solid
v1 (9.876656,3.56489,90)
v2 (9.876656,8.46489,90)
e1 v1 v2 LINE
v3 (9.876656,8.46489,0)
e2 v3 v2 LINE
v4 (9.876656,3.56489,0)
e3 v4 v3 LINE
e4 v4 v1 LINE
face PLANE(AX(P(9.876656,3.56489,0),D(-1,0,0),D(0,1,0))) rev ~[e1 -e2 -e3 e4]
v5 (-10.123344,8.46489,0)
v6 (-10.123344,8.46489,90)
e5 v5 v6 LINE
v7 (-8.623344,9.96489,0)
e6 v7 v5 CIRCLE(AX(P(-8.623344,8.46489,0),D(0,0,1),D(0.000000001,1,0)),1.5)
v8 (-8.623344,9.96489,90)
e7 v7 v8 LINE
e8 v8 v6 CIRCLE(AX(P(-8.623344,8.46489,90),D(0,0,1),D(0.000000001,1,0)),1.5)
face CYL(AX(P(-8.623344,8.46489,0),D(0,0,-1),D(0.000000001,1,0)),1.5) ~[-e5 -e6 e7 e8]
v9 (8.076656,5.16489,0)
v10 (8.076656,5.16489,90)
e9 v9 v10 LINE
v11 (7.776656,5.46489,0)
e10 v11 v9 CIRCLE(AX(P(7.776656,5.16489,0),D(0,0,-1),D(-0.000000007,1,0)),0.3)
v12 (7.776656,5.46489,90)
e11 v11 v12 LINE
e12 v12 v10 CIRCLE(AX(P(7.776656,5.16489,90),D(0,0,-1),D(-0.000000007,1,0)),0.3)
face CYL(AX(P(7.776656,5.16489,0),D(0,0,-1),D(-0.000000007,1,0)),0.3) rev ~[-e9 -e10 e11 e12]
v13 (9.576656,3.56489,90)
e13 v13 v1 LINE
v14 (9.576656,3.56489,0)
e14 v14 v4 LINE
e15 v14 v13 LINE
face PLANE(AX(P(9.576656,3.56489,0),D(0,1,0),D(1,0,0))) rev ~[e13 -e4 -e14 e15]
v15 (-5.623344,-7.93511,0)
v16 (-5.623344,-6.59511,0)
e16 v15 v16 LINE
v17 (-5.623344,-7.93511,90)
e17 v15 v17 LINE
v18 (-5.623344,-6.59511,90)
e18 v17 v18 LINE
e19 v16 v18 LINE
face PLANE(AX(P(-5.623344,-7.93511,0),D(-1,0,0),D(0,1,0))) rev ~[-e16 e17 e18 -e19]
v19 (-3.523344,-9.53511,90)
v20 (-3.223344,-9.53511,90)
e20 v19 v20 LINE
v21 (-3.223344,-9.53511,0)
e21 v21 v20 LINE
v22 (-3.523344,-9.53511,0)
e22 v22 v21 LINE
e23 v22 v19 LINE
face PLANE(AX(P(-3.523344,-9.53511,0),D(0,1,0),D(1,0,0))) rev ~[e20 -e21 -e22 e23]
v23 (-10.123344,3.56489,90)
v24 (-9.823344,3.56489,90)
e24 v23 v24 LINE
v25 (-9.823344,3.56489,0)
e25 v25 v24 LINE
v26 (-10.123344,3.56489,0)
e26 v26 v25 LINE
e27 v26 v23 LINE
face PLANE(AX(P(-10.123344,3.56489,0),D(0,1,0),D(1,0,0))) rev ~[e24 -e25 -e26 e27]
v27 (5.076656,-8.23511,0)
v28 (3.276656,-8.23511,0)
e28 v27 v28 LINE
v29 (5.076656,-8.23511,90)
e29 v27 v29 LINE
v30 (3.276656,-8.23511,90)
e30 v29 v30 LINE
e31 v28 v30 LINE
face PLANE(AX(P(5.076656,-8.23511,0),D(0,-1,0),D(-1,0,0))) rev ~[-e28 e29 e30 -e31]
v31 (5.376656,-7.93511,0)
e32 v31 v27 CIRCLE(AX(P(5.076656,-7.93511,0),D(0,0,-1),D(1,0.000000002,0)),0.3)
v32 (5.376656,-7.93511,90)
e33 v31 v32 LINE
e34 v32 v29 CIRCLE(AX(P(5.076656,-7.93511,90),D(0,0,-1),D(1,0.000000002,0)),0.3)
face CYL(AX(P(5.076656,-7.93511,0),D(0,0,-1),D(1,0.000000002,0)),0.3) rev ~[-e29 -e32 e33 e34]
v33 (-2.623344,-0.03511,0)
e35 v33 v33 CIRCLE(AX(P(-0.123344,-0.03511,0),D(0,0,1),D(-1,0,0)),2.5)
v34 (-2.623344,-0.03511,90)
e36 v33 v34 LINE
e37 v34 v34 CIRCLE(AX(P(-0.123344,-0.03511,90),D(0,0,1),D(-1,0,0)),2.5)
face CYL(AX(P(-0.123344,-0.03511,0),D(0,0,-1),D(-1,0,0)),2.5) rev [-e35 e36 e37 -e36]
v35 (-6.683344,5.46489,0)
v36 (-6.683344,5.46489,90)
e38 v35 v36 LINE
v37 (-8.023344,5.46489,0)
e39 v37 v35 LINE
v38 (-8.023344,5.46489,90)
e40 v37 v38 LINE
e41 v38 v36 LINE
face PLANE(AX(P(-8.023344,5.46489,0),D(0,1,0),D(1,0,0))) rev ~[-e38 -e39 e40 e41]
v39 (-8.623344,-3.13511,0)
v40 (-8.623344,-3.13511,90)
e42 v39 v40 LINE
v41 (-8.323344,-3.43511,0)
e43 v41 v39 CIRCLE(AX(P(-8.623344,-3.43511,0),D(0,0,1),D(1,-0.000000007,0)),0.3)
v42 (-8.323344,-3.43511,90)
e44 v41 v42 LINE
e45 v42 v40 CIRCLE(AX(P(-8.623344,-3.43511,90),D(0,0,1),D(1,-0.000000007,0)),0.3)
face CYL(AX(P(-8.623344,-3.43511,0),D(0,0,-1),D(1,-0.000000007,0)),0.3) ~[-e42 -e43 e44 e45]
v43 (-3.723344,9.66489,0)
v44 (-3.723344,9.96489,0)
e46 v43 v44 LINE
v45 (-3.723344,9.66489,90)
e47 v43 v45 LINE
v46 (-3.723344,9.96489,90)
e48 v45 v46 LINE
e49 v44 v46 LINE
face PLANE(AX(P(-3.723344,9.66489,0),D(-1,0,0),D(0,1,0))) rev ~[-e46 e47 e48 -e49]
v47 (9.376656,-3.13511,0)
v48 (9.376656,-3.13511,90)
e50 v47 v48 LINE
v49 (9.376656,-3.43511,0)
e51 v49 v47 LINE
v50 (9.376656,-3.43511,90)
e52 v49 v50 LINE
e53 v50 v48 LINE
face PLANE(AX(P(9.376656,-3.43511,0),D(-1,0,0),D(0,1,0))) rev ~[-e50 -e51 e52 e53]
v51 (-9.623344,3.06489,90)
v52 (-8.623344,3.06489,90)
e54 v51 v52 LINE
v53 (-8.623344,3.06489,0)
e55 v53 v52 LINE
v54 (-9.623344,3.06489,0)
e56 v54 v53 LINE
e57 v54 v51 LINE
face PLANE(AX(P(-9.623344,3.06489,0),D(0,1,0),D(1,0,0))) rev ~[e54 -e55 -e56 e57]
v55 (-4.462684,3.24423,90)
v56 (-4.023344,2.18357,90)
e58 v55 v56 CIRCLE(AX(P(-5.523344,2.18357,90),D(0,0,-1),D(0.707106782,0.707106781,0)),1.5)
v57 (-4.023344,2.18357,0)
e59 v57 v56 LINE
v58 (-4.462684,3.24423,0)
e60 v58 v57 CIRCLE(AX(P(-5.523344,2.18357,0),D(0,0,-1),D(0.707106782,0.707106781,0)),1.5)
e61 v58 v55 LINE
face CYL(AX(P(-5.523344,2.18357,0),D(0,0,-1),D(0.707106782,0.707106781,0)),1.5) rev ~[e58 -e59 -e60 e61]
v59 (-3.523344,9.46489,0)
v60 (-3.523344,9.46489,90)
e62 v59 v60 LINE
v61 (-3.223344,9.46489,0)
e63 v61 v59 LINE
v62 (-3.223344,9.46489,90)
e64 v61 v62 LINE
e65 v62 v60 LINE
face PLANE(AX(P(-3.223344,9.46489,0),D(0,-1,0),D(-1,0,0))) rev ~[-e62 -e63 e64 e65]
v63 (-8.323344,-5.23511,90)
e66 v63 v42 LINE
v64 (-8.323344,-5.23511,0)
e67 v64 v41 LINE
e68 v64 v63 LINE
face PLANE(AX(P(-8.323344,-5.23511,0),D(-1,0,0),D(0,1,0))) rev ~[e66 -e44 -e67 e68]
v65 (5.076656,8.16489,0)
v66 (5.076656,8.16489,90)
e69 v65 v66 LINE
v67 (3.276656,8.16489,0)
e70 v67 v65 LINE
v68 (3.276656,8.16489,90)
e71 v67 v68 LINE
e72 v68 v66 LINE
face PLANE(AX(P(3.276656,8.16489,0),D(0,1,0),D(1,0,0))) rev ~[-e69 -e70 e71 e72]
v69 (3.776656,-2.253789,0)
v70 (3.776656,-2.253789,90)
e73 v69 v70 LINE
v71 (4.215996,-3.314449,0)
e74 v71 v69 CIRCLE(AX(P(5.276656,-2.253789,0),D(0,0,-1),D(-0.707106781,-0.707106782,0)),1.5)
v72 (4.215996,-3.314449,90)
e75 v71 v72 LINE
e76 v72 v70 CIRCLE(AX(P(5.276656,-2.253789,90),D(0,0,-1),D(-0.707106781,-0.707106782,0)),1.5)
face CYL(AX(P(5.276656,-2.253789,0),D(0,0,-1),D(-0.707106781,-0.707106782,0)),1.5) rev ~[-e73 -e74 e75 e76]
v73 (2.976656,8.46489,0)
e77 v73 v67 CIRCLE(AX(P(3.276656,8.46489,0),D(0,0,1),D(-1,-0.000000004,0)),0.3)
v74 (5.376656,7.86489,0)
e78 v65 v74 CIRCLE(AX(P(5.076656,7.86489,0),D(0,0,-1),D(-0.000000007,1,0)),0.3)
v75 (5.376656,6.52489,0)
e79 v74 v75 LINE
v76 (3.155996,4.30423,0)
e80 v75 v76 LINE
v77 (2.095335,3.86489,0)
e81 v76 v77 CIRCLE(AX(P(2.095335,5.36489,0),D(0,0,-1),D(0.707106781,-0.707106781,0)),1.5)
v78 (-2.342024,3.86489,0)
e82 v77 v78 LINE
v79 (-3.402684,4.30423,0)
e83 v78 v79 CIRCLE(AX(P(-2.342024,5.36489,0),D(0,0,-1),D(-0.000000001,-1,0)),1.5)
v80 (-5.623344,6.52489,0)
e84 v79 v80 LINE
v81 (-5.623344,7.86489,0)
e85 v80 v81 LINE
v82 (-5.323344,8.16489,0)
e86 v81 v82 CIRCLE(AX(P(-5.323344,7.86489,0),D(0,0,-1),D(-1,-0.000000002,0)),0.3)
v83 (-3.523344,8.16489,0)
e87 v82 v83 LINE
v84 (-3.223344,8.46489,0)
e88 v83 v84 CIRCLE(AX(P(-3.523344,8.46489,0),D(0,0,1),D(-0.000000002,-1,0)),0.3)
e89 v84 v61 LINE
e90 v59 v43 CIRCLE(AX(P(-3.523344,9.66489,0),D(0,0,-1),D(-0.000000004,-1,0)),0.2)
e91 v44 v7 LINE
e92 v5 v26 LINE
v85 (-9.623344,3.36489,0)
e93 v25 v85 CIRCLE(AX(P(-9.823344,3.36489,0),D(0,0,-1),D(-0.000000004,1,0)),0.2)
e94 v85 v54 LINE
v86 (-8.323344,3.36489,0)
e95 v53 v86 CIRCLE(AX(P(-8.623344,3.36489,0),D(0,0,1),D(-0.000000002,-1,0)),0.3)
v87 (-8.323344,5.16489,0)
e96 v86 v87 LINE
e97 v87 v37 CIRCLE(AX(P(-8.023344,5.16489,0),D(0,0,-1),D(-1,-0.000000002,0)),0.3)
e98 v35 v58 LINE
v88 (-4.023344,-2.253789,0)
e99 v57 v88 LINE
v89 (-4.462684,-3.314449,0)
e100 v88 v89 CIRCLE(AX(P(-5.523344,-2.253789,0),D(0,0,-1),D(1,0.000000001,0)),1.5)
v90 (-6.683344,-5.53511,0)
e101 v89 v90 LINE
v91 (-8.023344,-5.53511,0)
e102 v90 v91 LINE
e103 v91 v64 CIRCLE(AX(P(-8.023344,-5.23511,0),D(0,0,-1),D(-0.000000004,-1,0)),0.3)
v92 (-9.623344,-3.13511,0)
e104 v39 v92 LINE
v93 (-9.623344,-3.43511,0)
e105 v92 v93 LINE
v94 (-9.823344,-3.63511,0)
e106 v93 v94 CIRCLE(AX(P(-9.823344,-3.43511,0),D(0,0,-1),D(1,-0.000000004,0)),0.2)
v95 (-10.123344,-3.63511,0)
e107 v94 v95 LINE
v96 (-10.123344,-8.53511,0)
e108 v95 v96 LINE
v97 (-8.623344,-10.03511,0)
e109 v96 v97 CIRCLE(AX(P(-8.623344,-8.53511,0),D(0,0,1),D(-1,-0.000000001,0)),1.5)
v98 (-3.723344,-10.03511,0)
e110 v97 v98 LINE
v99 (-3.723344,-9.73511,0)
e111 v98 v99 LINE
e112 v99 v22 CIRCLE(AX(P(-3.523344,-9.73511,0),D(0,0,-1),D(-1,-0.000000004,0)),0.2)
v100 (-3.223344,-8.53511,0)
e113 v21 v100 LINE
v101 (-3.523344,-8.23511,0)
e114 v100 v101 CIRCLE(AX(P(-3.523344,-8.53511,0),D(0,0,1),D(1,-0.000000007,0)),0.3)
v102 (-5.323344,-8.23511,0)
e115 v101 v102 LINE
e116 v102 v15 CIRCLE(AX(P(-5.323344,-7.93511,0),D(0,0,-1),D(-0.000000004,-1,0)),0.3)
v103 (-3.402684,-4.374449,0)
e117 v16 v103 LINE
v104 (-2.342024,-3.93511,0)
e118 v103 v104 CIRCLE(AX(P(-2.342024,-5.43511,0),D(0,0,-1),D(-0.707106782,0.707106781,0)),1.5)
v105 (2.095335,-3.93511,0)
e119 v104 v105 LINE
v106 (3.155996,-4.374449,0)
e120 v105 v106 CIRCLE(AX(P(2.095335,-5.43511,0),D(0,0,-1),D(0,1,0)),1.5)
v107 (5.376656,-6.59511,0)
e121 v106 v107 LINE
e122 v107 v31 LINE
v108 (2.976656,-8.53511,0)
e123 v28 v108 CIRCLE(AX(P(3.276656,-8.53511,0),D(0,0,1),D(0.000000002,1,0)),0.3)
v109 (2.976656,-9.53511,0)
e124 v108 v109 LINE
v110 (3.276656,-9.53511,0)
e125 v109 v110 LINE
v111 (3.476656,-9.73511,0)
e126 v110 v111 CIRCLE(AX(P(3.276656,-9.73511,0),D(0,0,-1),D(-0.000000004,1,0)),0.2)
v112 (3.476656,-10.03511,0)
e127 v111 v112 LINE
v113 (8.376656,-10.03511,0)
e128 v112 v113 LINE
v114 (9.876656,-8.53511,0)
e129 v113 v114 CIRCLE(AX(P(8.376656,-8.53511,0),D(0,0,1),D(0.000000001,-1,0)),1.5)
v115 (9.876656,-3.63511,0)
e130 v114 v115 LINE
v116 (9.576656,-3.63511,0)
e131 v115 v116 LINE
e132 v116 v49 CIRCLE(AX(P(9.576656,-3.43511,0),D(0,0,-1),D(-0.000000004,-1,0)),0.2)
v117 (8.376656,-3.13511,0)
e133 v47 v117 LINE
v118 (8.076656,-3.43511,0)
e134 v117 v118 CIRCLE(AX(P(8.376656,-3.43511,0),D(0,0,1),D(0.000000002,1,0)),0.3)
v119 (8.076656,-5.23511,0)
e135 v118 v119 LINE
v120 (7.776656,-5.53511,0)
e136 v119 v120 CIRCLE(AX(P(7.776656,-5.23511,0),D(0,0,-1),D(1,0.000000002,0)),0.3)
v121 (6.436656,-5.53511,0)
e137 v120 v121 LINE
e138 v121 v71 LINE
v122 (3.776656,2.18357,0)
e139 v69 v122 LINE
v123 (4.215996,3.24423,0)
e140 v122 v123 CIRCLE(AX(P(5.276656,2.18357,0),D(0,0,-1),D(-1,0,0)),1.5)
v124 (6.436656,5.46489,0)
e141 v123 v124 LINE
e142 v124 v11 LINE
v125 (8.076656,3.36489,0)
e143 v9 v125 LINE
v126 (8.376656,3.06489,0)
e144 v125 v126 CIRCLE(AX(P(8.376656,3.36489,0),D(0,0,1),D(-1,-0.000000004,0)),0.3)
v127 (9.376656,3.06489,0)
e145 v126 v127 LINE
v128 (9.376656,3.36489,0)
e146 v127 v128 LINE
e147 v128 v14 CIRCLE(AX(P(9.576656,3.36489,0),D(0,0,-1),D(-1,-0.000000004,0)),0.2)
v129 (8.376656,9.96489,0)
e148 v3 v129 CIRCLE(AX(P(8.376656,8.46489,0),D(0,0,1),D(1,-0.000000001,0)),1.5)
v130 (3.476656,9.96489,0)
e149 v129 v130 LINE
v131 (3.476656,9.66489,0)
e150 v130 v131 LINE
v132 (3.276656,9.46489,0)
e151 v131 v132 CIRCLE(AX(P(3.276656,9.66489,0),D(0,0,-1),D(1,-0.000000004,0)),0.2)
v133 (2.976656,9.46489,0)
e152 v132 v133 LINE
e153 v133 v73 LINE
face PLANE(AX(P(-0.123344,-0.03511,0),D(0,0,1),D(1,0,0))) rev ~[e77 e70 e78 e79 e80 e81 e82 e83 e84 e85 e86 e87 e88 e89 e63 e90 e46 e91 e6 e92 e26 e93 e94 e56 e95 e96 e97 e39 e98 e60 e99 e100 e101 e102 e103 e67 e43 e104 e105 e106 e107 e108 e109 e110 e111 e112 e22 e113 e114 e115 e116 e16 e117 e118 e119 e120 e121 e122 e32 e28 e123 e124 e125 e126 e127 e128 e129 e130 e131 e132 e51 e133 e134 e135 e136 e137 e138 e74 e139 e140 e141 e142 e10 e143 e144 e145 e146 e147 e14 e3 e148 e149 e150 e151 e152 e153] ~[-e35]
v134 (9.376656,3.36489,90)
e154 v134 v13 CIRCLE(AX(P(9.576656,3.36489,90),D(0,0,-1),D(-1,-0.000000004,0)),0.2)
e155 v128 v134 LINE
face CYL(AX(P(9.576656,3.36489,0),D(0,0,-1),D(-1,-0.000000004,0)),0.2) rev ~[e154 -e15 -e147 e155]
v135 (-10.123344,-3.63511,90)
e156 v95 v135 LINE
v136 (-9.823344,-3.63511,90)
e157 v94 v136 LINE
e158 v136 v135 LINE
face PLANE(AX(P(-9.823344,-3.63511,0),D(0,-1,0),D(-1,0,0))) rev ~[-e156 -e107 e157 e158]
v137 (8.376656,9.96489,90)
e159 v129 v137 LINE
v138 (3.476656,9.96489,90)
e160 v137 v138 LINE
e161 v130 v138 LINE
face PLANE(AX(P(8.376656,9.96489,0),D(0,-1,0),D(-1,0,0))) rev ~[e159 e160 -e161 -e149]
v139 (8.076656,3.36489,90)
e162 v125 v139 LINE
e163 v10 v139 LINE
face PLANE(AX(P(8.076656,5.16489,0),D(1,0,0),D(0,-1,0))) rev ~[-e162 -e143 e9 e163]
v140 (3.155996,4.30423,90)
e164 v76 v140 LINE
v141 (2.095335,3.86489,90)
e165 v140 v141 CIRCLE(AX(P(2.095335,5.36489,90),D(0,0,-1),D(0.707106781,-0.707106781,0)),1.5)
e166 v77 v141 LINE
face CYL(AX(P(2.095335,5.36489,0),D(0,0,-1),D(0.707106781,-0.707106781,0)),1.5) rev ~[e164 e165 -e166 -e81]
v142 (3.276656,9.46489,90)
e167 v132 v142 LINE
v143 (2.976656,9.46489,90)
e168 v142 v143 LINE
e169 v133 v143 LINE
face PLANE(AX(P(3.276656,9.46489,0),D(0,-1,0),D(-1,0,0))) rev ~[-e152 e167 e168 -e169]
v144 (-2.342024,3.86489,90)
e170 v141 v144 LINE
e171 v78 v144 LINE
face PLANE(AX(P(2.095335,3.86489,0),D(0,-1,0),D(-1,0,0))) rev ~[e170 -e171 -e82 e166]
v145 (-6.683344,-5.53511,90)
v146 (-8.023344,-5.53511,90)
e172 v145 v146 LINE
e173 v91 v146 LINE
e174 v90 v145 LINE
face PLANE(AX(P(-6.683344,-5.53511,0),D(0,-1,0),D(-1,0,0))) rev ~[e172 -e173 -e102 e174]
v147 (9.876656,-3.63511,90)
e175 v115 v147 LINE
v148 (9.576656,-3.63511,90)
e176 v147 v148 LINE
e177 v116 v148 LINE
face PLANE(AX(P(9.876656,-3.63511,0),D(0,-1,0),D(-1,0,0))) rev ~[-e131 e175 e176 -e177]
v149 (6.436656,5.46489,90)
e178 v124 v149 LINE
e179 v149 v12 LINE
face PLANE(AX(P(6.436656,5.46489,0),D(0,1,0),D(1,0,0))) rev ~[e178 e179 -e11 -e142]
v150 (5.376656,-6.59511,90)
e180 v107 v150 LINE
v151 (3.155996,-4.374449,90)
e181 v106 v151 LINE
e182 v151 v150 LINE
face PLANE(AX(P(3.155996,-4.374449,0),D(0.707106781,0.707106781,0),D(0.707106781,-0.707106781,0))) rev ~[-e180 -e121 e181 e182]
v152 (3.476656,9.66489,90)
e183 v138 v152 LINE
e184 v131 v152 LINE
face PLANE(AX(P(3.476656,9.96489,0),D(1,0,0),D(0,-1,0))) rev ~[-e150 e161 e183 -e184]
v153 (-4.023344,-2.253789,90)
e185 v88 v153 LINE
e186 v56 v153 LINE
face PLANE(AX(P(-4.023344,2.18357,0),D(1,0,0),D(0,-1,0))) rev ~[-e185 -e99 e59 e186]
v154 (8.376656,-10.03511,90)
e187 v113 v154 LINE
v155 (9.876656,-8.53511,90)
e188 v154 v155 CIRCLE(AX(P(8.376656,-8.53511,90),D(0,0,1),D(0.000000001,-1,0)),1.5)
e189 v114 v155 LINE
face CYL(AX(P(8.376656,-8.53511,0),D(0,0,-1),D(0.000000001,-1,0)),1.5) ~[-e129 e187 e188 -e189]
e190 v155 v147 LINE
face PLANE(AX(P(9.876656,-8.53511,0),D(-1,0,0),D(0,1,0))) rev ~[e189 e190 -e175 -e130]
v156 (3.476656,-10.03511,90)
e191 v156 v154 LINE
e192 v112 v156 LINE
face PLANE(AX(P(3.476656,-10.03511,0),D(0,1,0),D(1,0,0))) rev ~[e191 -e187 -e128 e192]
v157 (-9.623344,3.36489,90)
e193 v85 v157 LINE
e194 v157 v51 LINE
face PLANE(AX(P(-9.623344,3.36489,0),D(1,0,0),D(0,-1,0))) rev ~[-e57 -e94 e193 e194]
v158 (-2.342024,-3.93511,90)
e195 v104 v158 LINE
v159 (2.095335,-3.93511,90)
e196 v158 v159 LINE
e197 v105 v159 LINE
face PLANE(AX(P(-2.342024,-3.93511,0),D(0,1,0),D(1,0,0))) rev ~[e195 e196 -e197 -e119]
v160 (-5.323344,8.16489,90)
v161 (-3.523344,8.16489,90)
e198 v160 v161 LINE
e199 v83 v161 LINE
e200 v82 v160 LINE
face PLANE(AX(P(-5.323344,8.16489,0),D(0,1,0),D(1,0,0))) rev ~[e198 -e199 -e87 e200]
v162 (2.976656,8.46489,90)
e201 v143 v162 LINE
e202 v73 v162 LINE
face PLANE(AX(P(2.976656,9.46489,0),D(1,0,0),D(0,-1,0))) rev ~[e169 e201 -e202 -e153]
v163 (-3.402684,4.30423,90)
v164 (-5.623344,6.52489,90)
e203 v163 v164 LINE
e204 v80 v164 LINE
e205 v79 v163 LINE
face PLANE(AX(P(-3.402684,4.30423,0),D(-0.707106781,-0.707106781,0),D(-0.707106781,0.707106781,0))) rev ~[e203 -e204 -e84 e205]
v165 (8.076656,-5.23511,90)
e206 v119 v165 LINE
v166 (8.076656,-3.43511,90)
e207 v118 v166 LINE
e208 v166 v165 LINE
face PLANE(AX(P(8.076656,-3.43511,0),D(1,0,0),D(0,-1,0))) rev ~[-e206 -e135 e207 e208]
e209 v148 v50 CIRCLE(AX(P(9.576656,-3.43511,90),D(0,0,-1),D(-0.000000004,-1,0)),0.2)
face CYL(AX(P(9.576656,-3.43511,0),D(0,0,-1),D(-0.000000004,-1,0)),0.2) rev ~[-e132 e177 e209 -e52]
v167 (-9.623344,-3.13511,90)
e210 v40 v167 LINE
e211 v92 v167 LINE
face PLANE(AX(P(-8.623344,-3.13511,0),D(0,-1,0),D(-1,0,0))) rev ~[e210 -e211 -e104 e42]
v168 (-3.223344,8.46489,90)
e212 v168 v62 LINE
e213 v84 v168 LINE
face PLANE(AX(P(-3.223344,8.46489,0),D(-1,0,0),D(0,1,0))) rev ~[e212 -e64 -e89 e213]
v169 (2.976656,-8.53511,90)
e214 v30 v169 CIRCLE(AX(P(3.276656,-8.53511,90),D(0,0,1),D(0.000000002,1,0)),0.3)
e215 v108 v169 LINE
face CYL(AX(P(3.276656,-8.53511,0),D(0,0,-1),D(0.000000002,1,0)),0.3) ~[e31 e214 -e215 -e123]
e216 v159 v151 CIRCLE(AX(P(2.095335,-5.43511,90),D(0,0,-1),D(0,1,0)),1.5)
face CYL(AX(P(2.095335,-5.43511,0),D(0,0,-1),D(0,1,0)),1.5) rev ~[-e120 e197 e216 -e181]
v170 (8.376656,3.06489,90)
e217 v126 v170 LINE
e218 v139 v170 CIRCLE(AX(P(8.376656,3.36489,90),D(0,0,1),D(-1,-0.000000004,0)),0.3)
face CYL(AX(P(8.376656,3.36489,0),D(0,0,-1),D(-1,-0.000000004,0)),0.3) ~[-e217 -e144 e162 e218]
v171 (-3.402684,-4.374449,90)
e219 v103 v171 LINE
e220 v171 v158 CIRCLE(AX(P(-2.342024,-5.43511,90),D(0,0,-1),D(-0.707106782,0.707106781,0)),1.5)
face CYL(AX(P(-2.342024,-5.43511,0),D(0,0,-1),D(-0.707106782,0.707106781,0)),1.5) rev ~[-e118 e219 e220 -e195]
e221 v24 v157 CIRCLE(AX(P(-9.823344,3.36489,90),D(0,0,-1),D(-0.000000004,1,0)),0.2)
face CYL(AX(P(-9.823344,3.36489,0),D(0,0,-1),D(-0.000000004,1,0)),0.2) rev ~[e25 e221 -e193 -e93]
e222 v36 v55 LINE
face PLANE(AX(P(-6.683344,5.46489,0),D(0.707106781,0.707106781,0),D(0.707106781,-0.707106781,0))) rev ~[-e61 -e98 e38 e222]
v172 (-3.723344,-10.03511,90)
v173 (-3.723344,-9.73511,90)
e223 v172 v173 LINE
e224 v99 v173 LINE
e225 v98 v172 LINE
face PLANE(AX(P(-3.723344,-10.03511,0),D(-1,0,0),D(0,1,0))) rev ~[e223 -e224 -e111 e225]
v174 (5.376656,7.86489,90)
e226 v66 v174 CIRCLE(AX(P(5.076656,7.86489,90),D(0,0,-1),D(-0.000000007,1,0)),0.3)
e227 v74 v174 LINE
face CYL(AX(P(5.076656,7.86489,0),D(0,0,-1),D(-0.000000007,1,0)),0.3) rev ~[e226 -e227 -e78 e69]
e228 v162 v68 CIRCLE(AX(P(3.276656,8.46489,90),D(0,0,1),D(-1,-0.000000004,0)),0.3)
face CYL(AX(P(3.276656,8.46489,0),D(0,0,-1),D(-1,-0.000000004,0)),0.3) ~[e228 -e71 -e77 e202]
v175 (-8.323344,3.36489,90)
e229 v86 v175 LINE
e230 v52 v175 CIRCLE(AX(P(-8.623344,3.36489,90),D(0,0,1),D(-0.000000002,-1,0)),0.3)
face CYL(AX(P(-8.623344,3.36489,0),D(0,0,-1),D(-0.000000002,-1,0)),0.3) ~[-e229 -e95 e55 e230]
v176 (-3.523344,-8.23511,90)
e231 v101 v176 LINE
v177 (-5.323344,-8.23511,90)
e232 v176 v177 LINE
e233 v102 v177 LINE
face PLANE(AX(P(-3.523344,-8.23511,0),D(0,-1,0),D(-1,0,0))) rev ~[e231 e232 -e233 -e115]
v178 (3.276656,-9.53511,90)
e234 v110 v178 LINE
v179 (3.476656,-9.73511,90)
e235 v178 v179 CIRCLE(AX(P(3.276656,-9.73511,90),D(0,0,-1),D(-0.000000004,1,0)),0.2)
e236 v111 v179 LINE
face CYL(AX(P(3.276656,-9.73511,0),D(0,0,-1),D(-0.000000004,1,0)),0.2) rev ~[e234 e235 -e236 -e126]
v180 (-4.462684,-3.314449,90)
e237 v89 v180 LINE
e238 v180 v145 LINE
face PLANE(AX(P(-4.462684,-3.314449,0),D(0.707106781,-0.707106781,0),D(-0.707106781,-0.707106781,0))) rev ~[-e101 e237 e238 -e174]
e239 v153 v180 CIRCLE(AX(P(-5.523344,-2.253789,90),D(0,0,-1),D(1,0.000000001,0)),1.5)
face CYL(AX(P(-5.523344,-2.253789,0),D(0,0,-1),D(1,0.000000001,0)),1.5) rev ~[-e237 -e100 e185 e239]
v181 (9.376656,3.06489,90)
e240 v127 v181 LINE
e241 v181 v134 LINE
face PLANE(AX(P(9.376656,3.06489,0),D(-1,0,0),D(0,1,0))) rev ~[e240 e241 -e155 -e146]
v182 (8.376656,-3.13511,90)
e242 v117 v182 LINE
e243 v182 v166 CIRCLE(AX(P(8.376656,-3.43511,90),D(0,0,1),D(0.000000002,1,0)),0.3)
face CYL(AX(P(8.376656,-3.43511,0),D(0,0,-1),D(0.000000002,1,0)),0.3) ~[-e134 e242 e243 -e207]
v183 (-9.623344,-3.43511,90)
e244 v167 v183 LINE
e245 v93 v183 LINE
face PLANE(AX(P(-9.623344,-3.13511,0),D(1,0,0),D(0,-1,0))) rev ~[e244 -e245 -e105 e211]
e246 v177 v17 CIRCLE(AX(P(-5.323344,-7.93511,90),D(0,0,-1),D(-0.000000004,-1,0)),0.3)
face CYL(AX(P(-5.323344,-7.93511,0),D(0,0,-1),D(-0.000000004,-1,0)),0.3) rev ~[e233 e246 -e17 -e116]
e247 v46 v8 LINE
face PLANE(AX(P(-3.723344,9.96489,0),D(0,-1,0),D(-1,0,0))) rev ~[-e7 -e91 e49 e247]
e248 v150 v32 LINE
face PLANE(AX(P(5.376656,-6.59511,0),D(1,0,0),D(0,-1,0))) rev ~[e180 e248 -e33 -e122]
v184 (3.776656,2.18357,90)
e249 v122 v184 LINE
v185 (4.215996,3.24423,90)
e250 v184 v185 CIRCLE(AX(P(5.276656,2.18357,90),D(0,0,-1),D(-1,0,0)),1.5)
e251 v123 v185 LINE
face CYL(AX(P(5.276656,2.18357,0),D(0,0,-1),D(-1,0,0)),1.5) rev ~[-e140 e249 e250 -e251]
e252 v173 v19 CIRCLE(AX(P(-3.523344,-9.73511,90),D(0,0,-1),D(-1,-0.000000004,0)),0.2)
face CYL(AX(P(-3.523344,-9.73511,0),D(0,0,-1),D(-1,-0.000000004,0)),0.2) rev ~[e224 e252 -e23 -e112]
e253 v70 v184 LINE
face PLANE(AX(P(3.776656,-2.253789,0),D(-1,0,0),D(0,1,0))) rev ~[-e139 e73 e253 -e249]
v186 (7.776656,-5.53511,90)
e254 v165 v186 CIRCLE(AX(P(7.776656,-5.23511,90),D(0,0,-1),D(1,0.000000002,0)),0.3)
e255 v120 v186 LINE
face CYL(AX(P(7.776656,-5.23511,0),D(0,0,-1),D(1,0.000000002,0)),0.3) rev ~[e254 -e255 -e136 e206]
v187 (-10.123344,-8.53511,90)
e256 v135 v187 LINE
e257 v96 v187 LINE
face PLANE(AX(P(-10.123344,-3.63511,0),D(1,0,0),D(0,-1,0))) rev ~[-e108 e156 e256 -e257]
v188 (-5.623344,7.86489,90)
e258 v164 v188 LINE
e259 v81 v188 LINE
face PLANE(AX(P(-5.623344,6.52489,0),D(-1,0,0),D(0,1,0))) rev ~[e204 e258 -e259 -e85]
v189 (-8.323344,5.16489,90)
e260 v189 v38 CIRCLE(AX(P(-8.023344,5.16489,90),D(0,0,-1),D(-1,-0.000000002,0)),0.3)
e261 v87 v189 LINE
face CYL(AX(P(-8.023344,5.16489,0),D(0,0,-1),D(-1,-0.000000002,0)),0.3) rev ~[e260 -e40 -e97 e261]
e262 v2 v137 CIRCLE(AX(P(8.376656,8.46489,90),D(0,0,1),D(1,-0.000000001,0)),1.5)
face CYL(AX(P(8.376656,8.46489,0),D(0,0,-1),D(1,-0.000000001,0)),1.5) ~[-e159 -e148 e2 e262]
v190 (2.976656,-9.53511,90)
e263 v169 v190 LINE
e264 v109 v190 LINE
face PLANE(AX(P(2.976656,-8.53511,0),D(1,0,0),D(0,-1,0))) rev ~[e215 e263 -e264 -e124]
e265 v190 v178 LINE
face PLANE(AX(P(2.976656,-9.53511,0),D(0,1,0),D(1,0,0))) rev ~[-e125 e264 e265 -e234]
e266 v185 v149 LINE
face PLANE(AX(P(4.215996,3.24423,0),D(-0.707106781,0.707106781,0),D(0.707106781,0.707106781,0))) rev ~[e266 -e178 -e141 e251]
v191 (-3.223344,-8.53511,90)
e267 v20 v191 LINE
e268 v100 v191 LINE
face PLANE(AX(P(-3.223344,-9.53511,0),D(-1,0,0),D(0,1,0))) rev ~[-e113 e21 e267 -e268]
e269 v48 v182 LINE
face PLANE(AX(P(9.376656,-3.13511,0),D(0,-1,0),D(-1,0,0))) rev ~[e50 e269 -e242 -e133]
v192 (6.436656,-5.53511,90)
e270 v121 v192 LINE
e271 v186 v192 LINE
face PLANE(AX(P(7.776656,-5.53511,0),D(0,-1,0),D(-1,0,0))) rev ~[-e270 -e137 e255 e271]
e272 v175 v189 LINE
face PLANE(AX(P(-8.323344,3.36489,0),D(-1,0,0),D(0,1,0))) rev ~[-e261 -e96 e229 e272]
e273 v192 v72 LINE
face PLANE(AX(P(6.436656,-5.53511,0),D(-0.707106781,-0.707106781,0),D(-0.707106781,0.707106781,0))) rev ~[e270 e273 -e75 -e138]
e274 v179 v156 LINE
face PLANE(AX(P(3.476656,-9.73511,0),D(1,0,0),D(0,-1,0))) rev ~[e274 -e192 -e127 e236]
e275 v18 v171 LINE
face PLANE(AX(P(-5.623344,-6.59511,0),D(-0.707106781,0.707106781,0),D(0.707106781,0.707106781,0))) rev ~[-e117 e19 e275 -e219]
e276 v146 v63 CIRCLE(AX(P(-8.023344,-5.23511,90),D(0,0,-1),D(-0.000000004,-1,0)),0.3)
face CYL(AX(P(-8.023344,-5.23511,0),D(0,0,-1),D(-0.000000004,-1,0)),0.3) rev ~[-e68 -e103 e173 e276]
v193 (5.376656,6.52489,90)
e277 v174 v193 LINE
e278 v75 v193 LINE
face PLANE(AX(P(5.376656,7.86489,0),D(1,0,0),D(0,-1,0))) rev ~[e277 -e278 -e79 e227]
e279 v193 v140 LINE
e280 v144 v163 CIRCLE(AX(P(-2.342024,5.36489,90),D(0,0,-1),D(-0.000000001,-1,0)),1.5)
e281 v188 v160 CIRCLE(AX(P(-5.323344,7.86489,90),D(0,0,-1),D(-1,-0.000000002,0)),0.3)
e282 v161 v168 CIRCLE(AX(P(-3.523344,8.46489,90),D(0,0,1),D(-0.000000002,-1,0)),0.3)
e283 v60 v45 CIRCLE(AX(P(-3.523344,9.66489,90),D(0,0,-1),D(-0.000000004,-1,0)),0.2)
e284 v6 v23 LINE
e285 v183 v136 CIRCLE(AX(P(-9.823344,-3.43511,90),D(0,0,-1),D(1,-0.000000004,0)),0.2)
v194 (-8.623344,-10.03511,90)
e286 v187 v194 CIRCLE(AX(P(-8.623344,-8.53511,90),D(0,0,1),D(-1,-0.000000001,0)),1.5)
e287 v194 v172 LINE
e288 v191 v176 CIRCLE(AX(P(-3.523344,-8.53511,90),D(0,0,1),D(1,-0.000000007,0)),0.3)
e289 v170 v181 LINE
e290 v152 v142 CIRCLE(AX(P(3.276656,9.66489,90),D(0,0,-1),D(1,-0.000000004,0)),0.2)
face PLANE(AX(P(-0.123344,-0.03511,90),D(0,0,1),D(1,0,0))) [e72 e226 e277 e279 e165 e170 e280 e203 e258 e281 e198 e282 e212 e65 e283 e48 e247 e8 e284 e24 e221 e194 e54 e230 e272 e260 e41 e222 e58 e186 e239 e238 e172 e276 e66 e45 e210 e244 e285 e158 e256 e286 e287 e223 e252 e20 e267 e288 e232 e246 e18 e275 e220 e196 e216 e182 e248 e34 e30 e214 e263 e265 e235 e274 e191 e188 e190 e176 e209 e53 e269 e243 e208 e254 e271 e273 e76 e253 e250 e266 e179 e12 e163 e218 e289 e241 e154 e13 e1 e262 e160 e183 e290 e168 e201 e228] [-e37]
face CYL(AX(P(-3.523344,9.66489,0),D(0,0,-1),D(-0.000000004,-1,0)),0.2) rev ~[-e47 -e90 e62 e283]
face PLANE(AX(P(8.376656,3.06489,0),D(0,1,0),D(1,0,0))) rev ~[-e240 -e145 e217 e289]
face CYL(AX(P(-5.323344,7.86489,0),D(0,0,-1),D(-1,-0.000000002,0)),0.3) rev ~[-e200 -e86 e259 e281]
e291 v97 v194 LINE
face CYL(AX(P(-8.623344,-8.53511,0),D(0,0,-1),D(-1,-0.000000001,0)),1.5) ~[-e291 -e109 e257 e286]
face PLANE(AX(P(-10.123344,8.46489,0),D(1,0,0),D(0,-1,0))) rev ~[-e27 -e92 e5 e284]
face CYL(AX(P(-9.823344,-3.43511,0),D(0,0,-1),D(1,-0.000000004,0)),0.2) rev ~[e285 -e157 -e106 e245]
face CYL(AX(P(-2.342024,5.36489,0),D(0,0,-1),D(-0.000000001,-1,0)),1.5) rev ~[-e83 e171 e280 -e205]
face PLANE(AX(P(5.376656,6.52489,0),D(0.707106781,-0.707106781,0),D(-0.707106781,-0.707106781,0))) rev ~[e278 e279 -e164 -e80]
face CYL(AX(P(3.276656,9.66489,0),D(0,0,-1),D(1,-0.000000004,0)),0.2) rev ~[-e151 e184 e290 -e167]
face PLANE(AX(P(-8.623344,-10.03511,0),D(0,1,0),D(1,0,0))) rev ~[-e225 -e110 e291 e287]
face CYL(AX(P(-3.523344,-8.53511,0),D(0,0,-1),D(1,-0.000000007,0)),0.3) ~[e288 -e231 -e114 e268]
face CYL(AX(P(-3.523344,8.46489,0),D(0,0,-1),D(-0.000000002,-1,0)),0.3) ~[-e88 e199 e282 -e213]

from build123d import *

# Parameters (mm, degrees)
SKETCH_1_R      = 2.5
EXTRUDE_1_DEPTH = 90


with BuildPart() as part:
    # 草图1 → 凸台-拉伸1 (new body)
    with BuildSketch(Plane.XY):
        with BuildLine():
            Line((4.215995631, 3.244230202), (6.436655803, 5.464890373))
            Line((6.436655803, 5.464890373), (7.776655803, 5.464890373))
            ThreePointArc((7.776655803, 5.464890373), (7.988787838, 5.377022408), (8.076655803, 5.164890373))
            Line((8.076655803, 5.164890373), (8.076655803, 3.364890373))
            ThreePointArc((8.076655803, 3.364890373), (8.164523769, 3.152758339), (8.376655803, 3.064890373))
            Line((8.376655803, 3.064890373), (9.376655803, 3.064890373))
            Line((9.376655803, 3.064890373), (9.376655803, 3.364890373))
            ThreePointArc((9.376655803, 3.364890373), (9.435234447, 3.50631173), (9.576655803, 3.564890373))
            Line((9.576655803, 3.564890373), (9.876655803, 3.564890373))
            Line((9.876655803, 3.564890373), (9.876655803, 8.464890373))
            ThreePointArc((9.876655803, 8.464890373), (9.437315975, 9.525550545), (8.376655803, 9.964890373))
            Line((8.376655803, 9.964890373), (3.476655803, 9.964890373))
            Line((3.476655803, 9.964890373), (3.476655803, 9.664890373))
            ThreePointArc((3.476655803, 9.664890373), (3.418077159, 9.523469017), (3.276655803, 9.464890373))
            Line((3.276655803, 9.464890373), (2.976655803, 9.464890373))
            Line((2.976655803, 9.464890373), (2.976655803, 8.464890373))
            ThreePointArc((2.976655803, 8.464890373), (3.064523769, 8.252758339), (3.276655803, 8.164890373))
            Line((3.276655803, 8.164890373), (5.076655803, 8.164890373))
            ThreePointArc((5.076655803, 8.164890373), (5.288787838, 8.077022408), (5.376655803, 7.864890373))
            Line((5.376655803, 7.864890373), (5.376655803, 6.524890373))
            Line((5.376655803, 6.524890373), (3.155995631, 4.304230202))
            ThreePointArc((3.155995631, 4.304230202), (2.669360608, 3.979071075), (2.09533546, 3.864890373))
            Line((2.09533546, 3.864890373), (-2.342023853, 3.864890373))
            ThreePointArc((-2.342023853, 3.864890373), (-2.916049002, 3.979071075), (-3.402684025, 4.304230202))
            Line((-3.402684025, 4.304230202), (-5.623344197, 6.524890373))
            Line((-5.623344197, 6.524890373), (-5.623344197, 7.864890373))
            ThreePointArc((-5.623344197, 7.864890373), (-5.535476231, 8.077022408), (-5.323344197, 8.164890373))
            Line((-5.323344197, 8.164890373), (-3.523344197, 8.164890373))
            ThreePointArc((-3.523344197, 8.164890373), (-3.311212162, 8.252758339), (-3.223344197, 8.464890373))
            Line((-3.223344197, 8.464890373), (-3.223344197, 9.464890373))
            Line((-3.223344197, 9.464890373), (-3.523344197, 9.464890373))
            ThreePointArc((-3.523344197, 9.464890373), (-3.664765553, 9.523469017), (-3.723344197, 9.664890373))
            Line((-3.723344197, 9.664890373), (-3.723344197, 9.964890373))
            Line((-3.723344197, 9.964890373), (-8.623344197, 9.964890373))
            ThreePointArc((-8.623344197, 9.964890373), (-9.684004369, 9.525550545), (-10.123344197, 8.464890373))
            Line((-10.123344197, 8.464890373), (-10.123344197, 3.564890373))
            Line((-10.123344197, 3.564890373), (-9.823344197, 3.564890373))
            ThreePointArc((-9.823344197, 3.564890373), (-9.681922841, 3.50631173), (-9.623344197, 3.364890373))
            Line((-9.623344197, 3.364890373), (-9.623344197, 3.064890373))
            Line((-9.623344197, 3.064890373), (-8.623344197, 3.064890373))
            ThreePointArc((-8.623344197, 3.064890373), (-8.411212162, 3.152758339), (-8.323344197, 3.364890373))
            Line((-8.323344197, 3.364890373), (-8.323344197, 5.164890373))
            ThreePointArc((-8.323344197, 5.164890373), (-8.235476231, 5.377022408), (-8.023344197, 5.464890373))
            Line((-8.023344197, 5.464890373), (-6.683344197, 5.464890373))
            Line((-6.683344197, 5.464890373), (-4.462684025, 3.244230202))
            ThreePointArc((-4.462684025, 3.244230202), (-4.137524898, 2.757595178), (-4.023344197, 2.18357003))
            Line((-4.023344197, 2.18357003), (-4.023344197, -2.253789283))
            ThreePointArc((-4.023344197, -2.253789283), (-4.137524898, -2.827814432), (-4.462684025, -3.314449455))
            Line((-4.462684025, -3.314449455), (-6.683344197, -5.535109627))
            Line((-6.683344197, -5.535109627), (-8.023344197, -5.535109627))
            ThreePointArc((-8.023344197, -5.535109627), (-8.235476231, -5.447241661), (-8.323344197, -5.235109627))
            Line((-8.323344197, -5.235109627), (-8.323344197, -3.435109627))
            ThreePointArc((-8.323344197, -3.435109627), (-8.411212162, -3.222977592), (-8.623344197, -3.135109627))
            Line((-8.623344197, -3.135109627), (-9.623344197, -3.135109627))
            Line((-9.623344197, -3.135109627), (-9.623344197, -3.435109627))
            ThreePointArc((-9.623344197, -3.435109627), (-9.681922841, -3.576530983), (-9.823344197, -3.635109627))
            Line((-9.823344197, -3.635109627), (-10.123344197, -3.635109627))
            Line((-10.123344197, -3.635109627), (-10.123344197, -8.535109627))
            ThreePointArc((-10.123344197, -8.535109627), (-9.684004369, -9.595769798), (-8.623344197, -10.035109627))
            Line((-8.623344197, -10.035109627), (-3.723344197, -10.035109627))
            Line((-3.723344197, -10.035109627), (-3.723344197, -9.735109627))
            ThreePointArc((-3.723344197, -9.735109627), (-3.664765553, -9.59368827), (-3.523344197, -9.535109627))
            Line((-3.523344197, -9.535109627), (-3.223344197, -9.535109627))
            Line((-3.223344197, -9.535109627), (-3.223344197, -8.535109627))
            ThreePointArc((-3.223344197, -8.535109627), (-3.311212162, -8.322977592), (-3.523344197, -8.235109627))
            Line((-3.523344197, -8.235109627), (-5.323344197, -8.235109627))
            ThreePointArc((-5.323344197, -8.235109627), (-5.535476231, -8.147241661), (-5.623344197, -7.935109627))
            Line((-5.623344197, -7.935109627), (-5.623344197, -6.595109627))
            Line((-5.623344197, -6.595109627), (-3.402684025, -4.374449455))
            ThreePointArc((-3.402684025, -4.374449455), (-2.916049002, -4.049290328), (-2.342023853, -3.935109627))
            Line((-2.342023853, -3.935109627), (2.09533546, -3.935109627))
            ThreePointArc((2.09533546, -3.935109627), (2.669360608, -4.049290328), (3.155995631, -4.374449455))
            Line((3.155995631, -4.374449455), (5.376655803, -6.595109627))
            Line((5.376655803, -6.595109627), (5.376655803, -7.935109627))
            ThreePointArc((5.376655803, -7.935109627), (5.288787838, -8.147241661), (5.076655803, -8.235109627))
            Line((5.076655803, -8.235109627), (3.276655803, -8.235109627))
            ThreePointArc((3.276655803, -8.235109627), (3.064523769, -8.322977592), (2.976655803, -8.535109627))
            Line((2.976655803, -8.535109627), (2.976655803, -9.535109627))
            Line((2.976655803, -9.535109627), (3.276655803, -9.535109627))
            ThreePointArc((3.276655803, -9.535109627), (3.418077159, -9.59368827), (3.476655803, -9.735109627))
            Line((3.476655803, -9.735109627), (3.476655803, -10.035109627))
            Line((3.476655803, -10.035109627), (8.376655803, -10.035109627))
            ThreePointArc((8.376655803, -10.035109627), (9.437315975, -9.595769798), (9.876655803, -8.535109627))
            Line((9.876655803, -8.535109627), (9.876655803, -3.635109627))
            Line((9.876655803, -3.635109627), (9.576655803, -3.635109627))
            ThreePointArc((9.576655803, -3.635109627), (9.435234447, -3.576530983), (9.376655803, -3.435109627))
            Line((9.376655803, -3.435109627), (9.376655803, -3.135109627))
            Line((9.376655803, -3.135109627), (8.376655803, -3.135109627))
            ThreePointArc((8.376655803, -3.135109627), (8.164523769, -3.222977592), (8.076655803, -3.435109627))
            Line((8.076655803, -3.435109627), (8.076655803, -5.235109627))
            ThreePointArc((8.076655803, -5.235109627), (7.988787838, -5.447241661), (7.776655803, -5.535109627))
            Line((7.776655803, -5.535109627), (6.436655803, -5.535109627))
            Line((6.436655803, -5.535109627), (4.215995631, -3.314449455))
            ThreePointArc((4.215995631, -3.314449455), (3.890836504, -2.827814432), (3.776655803, -2.253789283))
            Line((3.776655803, -2.253789283), (3.776655803, 2.18357003))
            ThreePointArc((3.776655803, 2.18357003), (3.890836504, 2.757595178), (4.215995631, 3.244230202))
        make_face()
        with Locations(Location((-0.123344197, -0.035109627, 0), (0, 0, 180))):
            Circle(SKETCH_1_R, mode=Mode.SUBTRACT)
    extrude(amount=EXTRUDE_1_DEPTH)


solid = part.part
